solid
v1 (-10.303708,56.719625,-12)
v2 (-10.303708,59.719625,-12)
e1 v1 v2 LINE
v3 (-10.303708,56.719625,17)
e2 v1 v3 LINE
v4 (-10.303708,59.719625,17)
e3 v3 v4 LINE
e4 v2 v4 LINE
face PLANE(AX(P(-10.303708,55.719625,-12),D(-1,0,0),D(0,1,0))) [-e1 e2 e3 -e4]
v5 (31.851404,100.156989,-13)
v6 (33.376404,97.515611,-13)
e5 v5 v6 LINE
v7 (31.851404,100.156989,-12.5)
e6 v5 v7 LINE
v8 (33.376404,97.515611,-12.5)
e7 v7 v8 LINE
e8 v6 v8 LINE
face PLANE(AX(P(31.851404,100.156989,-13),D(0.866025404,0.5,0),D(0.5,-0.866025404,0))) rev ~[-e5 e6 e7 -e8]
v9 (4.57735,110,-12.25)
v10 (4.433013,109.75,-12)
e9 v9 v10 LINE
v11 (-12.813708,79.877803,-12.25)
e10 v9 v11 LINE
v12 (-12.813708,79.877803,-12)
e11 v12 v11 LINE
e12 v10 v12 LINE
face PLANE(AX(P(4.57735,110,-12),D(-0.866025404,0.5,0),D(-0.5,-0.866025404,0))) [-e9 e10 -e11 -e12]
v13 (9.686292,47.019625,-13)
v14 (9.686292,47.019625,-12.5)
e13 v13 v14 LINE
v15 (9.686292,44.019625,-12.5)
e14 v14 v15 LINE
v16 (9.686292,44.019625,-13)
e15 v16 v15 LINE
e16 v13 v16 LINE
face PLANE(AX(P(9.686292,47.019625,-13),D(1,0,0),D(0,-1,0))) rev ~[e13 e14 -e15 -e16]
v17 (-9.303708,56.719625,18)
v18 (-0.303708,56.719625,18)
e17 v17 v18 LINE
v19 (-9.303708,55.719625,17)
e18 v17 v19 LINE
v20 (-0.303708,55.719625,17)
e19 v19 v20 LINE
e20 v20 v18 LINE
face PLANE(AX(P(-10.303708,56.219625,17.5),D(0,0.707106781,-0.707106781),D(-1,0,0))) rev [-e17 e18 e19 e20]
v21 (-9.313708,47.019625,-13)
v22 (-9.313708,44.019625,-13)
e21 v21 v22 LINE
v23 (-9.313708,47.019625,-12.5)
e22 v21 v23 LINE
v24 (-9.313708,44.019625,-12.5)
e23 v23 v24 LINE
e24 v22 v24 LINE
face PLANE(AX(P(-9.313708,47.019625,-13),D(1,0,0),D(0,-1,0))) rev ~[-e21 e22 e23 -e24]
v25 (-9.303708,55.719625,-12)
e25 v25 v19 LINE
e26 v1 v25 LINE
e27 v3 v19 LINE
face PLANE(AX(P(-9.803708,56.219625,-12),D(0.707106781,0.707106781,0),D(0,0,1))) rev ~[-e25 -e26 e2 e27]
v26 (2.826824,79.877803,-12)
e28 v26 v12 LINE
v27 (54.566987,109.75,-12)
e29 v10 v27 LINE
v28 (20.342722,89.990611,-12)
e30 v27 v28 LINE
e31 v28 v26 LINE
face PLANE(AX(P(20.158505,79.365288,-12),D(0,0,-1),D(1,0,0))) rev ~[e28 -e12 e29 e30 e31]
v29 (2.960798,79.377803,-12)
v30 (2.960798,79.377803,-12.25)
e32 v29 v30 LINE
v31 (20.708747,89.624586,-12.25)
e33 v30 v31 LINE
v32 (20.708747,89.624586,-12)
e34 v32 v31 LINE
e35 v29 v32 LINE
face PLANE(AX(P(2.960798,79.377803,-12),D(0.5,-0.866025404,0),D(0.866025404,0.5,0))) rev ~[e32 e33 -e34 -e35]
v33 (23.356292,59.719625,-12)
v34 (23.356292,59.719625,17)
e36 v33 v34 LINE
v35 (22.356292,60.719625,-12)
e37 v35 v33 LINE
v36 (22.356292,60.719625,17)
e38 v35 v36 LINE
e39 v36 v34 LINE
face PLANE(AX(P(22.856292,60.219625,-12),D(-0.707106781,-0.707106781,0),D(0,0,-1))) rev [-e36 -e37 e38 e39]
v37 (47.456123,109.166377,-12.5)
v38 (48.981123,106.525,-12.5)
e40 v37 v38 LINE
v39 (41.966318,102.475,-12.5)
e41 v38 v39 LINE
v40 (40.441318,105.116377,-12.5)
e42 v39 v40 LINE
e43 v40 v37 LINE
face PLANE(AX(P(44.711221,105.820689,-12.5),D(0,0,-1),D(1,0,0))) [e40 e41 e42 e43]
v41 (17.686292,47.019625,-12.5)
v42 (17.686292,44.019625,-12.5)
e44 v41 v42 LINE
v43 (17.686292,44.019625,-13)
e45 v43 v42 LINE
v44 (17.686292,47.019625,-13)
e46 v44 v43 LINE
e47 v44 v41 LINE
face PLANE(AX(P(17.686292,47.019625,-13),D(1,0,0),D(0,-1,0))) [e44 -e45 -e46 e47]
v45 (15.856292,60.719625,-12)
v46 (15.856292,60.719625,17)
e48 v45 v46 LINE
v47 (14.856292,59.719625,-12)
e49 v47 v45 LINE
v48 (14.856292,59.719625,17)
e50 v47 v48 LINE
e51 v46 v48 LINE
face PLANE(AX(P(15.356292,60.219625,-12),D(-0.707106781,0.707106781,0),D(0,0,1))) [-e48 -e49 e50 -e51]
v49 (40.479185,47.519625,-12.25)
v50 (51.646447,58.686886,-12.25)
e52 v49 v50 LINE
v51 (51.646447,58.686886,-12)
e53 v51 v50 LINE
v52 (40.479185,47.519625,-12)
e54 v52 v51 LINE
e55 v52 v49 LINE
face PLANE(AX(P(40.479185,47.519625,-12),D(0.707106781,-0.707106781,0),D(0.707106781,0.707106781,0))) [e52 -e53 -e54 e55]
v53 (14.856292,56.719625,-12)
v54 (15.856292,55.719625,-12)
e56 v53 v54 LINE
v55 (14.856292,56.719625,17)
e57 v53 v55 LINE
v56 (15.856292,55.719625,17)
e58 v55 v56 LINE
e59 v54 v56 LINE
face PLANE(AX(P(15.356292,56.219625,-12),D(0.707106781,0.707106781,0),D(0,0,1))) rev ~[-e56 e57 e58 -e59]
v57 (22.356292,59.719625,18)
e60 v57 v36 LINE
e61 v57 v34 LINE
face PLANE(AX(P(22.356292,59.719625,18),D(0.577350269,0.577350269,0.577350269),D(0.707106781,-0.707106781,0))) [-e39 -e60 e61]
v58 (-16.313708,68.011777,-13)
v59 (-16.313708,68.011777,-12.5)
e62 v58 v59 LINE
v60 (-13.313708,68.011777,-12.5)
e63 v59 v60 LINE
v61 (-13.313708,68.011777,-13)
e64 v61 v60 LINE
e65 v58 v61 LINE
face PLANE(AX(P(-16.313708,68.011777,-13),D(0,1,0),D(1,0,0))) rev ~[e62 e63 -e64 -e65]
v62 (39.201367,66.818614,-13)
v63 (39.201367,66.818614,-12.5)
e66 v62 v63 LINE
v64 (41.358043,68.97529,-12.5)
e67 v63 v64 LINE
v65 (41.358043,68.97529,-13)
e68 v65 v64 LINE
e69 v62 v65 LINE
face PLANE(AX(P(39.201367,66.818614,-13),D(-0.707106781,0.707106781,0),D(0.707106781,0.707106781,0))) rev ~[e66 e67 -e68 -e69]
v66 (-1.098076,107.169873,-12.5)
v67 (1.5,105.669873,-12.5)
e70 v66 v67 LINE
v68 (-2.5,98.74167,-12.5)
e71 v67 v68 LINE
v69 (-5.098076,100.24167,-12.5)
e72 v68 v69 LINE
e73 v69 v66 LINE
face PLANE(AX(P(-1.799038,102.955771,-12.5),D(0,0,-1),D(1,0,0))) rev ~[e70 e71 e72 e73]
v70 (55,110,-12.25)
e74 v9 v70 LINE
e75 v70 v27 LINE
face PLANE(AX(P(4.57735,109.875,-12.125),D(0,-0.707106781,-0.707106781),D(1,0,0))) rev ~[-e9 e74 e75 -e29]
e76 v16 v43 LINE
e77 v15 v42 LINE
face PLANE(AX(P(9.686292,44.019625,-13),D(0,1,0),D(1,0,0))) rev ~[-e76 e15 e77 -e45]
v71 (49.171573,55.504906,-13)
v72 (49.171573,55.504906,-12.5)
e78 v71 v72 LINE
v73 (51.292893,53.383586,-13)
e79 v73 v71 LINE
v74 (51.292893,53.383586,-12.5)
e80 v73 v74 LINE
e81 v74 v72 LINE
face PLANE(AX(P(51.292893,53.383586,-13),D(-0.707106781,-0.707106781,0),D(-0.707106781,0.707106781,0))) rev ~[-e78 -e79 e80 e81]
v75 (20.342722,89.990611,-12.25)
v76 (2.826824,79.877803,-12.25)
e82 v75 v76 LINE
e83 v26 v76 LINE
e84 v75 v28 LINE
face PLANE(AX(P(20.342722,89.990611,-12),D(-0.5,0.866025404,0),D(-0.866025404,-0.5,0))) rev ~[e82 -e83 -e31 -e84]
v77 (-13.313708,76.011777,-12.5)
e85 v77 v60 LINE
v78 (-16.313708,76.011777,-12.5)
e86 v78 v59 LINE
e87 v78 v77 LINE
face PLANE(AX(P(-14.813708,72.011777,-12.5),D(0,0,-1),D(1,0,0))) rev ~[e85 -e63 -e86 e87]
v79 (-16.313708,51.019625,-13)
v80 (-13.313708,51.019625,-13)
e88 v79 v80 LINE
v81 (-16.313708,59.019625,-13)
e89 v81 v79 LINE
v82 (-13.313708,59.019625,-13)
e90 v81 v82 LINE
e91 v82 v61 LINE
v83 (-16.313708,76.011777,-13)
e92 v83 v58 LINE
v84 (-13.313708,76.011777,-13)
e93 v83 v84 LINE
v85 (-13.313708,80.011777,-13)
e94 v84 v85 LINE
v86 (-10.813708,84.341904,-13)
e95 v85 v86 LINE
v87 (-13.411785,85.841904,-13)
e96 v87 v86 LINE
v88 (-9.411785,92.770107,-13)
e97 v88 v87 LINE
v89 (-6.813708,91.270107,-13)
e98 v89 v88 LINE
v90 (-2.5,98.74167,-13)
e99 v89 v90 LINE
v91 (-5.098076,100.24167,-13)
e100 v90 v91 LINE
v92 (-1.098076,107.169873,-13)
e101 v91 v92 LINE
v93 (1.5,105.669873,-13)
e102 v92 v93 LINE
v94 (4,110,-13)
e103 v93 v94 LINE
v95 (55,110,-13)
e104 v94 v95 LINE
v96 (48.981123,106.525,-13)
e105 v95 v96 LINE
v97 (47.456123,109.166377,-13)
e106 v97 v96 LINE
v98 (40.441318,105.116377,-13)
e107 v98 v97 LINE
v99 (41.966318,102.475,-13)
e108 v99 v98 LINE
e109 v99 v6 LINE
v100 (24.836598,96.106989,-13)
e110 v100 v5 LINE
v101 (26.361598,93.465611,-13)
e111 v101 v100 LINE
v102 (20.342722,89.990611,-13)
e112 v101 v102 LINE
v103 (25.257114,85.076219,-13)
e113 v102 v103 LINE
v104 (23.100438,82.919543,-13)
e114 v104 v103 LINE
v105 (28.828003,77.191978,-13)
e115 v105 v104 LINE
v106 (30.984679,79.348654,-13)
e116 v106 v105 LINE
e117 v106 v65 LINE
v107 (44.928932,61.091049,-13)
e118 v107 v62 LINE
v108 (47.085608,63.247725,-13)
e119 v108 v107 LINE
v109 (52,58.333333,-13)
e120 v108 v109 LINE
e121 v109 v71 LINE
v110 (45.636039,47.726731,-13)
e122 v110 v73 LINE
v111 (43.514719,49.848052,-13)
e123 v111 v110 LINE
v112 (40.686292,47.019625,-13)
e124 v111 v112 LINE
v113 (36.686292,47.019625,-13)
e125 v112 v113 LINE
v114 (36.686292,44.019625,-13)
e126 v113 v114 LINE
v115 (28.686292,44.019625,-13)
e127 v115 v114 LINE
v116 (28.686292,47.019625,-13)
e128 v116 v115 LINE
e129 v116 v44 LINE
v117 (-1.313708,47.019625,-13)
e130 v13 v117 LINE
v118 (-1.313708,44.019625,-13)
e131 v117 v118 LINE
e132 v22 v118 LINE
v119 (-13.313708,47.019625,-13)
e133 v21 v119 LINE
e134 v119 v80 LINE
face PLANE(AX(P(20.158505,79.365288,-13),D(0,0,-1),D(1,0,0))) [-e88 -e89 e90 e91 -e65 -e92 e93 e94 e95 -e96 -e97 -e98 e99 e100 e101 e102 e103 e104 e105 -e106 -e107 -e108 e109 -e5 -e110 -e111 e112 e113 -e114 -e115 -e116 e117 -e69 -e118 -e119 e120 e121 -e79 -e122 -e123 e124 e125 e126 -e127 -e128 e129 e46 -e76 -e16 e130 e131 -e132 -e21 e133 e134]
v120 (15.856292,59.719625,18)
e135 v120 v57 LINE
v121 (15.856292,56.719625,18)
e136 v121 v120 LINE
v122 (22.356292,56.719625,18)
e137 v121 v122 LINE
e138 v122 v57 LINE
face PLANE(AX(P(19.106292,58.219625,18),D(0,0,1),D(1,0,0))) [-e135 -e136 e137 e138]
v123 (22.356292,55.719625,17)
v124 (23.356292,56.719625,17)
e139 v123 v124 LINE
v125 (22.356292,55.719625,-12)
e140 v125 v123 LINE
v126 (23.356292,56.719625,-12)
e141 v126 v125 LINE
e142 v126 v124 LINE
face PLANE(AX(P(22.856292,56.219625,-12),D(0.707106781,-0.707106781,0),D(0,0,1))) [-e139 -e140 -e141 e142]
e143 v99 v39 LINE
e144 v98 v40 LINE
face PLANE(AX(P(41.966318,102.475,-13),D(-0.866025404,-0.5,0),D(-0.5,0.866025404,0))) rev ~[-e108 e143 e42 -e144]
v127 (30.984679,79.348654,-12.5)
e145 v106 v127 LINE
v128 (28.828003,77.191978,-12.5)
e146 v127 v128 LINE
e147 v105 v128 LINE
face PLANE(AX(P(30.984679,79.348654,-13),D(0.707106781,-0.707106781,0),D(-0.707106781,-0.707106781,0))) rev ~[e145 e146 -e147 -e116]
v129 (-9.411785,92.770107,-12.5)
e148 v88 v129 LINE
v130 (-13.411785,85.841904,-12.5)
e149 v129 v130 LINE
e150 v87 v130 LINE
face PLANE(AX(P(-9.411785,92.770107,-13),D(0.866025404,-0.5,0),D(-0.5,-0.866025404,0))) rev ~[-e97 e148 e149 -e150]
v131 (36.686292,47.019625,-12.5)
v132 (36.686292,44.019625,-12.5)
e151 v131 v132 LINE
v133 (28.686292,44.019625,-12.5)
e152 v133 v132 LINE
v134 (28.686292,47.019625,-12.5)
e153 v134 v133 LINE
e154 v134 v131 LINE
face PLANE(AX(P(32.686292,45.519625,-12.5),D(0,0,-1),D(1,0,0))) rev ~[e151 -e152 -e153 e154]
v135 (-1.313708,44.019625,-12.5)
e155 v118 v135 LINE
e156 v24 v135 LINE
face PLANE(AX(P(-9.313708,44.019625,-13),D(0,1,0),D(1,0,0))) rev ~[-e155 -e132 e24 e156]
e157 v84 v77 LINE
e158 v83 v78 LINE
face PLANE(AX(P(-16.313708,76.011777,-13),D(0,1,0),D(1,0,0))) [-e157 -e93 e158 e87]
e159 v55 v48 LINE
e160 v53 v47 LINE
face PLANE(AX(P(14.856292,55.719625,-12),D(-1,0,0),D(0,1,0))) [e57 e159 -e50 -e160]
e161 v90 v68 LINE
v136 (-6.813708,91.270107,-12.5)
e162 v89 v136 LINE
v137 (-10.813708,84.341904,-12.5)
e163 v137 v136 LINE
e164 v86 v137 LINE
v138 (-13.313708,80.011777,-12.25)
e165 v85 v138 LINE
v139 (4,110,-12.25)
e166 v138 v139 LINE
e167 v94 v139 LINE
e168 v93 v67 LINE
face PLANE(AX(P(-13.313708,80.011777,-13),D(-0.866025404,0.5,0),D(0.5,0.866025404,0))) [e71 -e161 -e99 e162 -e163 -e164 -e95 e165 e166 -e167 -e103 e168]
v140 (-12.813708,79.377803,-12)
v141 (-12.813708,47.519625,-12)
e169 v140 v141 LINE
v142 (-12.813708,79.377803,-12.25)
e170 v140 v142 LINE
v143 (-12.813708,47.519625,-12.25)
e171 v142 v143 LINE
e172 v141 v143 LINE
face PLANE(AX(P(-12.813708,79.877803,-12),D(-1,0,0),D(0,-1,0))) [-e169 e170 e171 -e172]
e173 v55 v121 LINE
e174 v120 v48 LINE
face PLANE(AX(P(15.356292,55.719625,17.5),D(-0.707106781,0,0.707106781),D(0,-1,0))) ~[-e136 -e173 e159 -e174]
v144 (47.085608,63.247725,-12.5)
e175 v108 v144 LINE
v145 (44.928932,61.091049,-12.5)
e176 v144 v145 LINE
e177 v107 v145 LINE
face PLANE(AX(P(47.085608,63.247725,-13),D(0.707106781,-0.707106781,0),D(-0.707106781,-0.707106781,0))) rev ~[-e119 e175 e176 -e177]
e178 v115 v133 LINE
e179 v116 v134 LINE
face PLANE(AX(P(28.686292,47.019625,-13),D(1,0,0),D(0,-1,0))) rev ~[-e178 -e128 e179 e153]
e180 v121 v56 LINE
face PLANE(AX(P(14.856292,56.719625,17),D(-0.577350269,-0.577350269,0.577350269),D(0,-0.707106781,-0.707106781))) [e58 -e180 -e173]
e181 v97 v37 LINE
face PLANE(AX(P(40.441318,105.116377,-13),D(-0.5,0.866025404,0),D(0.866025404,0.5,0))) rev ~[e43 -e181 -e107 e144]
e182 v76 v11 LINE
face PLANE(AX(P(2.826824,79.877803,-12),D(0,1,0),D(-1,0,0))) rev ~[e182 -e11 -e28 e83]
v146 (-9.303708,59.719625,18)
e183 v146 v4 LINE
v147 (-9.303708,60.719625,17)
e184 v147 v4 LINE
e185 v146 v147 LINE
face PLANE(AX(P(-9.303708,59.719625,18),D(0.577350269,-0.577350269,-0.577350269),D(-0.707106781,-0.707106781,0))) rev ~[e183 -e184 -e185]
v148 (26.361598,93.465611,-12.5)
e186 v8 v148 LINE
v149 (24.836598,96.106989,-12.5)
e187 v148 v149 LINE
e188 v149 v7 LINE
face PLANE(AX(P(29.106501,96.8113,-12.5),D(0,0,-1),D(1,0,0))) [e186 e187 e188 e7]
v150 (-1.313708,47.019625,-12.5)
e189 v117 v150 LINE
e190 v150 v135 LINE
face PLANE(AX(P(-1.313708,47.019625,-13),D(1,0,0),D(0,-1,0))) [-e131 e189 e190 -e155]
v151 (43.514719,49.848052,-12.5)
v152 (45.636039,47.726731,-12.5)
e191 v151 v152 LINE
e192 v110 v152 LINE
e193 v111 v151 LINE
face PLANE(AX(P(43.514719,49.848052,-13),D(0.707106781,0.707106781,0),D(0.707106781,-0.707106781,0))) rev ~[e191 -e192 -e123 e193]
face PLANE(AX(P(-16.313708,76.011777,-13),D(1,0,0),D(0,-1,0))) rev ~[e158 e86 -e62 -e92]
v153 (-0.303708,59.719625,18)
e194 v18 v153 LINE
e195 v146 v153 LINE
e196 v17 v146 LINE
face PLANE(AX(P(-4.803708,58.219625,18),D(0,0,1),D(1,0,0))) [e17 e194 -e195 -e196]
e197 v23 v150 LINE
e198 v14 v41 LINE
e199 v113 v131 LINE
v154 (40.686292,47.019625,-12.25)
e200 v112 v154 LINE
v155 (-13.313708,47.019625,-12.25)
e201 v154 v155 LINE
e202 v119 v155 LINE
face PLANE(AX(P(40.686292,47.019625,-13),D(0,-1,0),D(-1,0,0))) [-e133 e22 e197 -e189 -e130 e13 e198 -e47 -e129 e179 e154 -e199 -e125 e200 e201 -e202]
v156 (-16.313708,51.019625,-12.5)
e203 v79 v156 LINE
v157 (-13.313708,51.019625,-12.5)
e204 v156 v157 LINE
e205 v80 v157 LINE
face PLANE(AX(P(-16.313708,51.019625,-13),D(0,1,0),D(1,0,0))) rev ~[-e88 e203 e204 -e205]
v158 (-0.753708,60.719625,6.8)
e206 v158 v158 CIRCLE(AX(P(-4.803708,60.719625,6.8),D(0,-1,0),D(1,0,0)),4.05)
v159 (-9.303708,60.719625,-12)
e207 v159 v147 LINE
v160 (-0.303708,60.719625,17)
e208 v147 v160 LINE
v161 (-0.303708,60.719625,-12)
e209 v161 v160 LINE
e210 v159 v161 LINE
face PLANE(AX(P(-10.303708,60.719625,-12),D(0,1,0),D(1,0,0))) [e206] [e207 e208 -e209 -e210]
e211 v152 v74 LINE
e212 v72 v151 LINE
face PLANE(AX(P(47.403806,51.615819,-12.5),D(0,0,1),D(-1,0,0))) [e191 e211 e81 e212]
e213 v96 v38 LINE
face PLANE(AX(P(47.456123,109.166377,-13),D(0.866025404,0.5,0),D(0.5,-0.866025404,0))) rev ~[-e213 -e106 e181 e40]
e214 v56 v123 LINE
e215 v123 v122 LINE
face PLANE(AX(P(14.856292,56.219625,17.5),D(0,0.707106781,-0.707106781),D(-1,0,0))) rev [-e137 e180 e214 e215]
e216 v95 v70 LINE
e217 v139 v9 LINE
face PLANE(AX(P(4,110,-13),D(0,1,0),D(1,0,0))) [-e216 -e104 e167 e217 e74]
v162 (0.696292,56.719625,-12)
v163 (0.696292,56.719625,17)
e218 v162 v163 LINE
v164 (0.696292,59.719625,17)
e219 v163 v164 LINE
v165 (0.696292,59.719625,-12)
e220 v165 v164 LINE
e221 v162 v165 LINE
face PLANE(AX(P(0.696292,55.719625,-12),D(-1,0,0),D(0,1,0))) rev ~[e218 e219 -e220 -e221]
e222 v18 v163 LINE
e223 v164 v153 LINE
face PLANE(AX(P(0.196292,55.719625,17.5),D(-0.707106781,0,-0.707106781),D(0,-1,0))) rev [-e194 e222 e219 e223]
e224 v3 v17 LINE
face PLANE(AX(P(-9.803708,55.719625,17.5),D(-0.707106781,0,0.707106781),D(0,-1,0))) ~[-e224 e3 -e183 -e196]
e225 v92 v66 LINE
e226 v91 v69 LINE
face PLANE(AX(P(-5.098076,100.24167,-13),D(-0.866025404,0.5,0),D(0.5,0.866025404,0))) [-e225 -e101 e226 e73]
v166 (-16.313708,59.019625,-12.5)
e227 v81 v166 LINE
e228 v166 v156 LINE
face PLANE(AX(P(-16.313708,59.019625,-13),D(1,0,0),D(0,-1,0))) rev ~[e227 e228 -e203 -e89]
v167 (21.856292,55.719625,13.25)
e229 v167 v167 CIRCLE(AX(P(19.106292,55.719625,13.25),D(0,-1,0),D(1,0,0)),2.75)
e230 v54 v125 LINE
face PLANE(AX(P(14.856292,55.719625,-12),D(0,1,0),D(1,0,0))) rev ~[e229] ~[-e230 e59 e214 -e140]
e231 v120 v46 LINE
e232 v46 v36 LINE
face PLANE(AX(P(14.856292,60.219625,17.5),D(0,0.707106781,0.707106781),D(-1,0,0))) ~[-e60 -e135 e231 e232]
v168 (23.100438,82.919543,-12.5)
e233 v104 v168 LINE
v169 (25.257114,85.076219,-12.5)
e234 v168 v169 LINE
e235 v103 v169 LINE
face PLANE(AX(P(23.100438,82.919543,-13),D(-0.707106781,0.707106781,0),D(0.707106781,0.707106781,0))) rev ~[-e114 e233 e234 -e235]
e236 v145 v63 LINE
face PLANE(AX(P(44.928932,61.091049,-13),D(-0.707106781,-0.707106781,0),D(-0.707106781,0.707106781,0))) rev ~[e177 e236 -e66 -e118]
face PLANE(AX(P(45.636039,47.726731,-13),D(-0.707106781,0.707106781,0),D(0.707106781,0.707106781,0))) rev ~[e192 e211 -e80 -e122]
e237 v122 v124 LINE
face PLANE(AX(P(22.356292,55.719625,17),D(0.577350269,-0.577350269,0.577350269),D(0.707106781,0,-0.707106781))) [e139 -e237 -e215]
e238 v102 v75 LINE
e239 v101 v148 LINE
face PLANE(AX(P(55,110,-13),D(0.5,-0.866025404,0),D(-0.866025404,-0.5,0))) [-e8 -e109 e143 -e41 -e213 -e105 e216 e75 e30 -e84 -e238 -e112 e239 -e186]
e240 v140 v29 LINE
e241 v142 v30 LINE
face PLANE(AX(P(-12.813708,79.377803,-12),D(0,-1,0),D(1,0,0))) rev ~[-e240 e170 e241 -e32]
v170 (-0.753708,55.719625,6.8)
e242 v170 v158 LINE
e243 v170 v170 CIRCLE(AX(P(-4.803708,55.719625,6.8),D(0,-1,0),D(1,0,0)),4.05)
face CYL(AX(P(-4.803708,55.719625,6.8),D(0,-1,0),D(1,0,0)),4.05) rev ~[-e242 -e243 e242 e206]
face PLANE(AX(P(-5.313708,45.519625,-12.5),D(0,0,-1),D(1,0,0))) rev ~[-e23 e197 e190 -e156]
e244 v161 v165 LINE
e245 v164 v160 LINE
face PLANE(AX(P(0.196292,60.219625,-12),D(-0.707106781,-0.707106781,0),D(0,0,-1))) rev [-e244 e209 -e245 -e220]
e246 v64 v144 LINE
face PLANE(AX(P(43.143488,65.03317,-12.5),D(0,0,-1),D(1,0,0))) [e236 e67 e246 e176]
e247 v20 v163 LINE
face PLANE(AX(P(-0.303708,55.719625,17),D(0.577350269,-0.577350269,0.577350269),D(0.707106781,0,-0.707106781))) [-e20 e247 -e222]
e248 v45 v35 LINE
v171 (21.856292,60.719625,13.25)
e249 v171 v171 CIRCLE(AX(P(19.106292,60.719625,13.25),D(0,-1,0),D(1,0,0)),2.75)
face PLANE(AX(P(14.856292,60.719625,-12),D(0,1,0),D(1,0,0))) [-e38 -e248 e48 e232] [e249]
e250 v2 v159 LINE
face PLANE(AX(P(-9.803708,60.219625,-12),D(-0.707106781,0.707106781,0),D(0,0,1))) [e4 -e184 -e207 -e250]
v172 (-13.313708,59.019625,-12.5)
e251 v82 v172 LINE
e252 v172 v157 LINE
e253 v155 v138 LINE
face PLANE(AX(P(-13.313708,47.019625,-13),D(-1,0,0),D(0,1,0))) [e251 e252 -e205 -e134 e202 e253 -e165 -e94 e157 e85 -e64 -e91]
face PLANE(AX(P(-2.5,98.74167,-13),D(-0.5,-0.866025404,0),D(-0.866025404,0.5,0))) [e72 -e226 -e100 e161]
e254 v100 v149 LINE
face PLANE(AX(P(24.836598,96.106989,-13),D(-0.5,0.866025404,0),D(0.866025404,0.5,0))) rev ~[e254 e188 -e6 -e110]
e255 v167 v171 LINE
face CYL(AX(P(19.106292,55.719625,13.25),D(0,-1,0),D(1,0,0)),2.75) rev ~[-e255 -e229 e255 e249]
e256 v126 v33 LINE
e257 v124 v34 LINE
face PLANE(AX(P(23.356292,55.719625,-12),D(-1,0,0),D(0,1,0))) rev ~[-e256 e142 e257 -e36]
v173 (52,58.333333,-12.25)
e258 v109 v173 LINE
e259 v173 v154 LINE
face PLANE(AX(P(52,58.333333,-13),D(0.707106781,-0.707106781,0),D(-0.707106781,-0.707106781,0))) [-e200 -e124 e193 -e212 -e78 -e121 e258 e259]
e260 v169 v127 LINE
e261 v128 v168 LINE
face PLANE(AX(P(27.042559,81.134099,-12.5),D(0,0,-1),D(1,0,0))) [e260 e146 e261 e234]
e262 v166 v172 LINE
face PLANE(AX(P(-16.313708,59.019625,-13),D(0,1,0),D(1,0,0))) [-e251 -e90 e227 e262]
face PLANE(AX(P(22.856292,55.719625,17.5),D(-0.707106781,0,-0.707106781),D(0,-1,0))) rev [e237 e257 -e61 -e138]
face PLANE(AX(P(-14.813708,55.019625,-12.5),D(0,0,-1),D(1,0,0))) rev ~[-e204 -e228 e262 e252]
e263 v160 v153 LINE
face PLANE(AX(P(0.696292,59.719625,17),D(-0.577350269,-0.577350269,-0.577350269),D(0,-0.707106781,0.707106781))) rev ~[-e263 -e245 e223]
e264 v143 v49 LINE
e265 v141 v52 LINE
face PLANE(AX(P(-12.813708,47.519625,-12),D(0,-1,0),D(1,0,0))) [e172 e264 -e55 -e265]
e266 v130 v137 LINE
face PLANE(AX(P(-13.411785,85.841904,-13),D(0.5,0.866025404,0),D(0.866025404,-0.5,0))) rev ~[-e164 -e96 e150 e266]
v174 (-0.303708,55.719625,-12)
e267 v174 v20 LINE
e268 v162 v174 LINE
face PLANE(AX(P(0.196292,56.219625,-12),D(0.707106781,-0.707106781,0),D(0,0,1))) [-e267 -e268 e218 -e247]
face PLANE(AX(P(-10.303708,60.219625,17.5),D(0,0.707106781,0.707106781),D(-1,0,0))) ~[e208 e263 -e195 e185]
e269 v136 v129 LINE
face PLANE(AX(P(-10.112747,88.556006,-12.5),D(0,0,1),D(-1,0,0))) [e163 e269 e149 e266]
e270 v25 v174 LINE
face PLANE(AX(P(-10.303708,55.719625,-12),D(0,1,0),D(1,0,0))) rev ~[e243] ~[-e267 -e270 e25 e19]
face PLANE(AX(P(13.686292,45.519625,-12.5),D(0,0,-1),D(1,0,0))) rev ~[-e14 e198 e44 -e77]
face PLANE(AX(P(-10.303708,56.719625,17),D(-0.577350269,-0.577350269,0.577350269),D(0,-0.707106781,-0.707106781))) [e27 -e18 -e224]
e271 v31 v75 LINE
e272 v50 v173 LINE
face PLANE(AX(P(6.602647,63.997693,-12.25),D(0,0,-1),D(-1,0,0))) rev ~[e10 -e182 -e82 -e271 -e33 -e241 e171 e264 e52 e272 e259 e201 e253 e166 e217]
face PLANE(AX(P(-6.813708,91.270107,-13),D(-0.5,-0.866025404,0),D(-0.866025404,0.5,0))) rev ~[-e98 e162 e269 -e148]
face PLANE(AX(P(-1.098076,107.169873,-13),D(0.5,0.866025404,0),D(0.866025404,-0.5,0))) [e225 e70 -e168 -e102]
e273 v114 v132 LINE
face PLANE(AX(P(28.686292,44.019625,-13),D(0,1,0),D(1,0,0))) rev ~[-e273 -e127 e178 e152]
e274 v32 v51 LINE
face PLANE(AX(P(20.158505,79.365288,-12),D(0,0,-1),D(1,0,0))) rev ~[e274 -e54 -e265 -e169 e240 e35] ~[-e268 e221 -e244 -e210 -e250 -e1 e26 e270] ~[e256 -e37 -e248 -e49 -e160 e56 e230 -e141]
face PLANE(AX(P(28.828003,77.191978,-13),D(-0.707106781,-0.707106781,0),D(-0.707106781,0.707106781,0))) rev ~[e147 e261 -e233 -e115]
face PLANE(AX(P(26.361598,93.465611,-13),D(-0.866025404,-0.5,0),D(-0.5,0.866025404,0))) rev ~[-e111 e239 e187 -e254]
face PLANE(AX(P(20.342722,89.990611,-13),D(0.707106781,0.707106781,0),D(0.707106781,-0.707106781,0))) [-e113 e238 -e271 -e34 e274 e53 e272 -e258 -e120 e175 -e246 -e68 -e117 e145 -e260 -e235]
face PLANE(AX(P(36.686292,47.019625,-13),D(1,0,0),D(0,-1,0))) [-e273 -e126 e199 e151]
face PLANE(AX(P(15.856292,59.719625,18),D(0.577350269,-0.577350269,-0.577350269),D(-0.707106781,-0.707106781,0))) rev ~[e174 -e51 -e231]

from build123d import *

# Parameters (mm, degrees)
PAD002_DEPTH    = 1
POCKET002_DEPTH = 0.5
POCKET003_DEPTH = 0.25
POCKET004_DEPTH = 0.25
SKETCH009_W     = 8.5
SKETCH009_H     = 5
SKETCH009_W_2   = 11
PAD003_DEPTH    = 30
SKETCH010_R     = 4.05
SKETCH010_R_2   = 2.75
POCKET005_DEPTH = 54.281375499
SKETCH011_W     = 8
SKETCH011_H     = 3
SKETCH011_W_2   = 3
SKETCH011_H_2   = 8
PAD004_DEPTH    = 0.5
CHAMFER001_SIZE = 0.25
CHAMFER002_SIZE = 1


with BuildPart() as part:
    # Sketch005 (on Face1 of Binder) → Pad002 (new body)
    with BuildSketch(Plane(origin=(0, 0, -13), x_dir=(1, 0, 0), z_dir=(0, 0, -1))):
        Polygon((52, -58.333333), (40.686291501, -47.019624501), (-13.313708499, -47.019624501), (-13.313708499, -80.0117772123), (4, -110), (55, -110), (20.3427218622, -89.9906111378), align=None)
    extrude(amount=-PAD002_DEPTH)

    # Sketch006 (on Face8 of Pad002) → Pocket002 (cut)
    with BuildSketch(Plane(origin=(0, 0, -13), x_dir=(1, 0, 0), z_dir=(0, 0, -1))):
        Polygon((47.0856078708, -63.2477251292), (44.9289321881, -61.0910494466), (39.2013672605, -66.8186143742), (41.3580429431, -68.9752900569), align=None)
        Polygon((30.9846789191, -79.3486540809), (28.8280032365, -77.1919783983), (23.1004383089, -82.9195433259), (25.2571139915, -85.0762190085), align=None)
        Polygon((26.3615984185, -93.4656111378), (24.8365984185, -96.1069886193), (31.8514041892, -100.1569886193), (33.3764041892, -97.5156111378), align=None)
        Polygon((48.9811234437, -106.525), (41.966317673, -102.475), (40.441317673, -105.1163774815), (47.4561234437, -109.1663774815), align=None)
    extrude(amount=-POCKET002_DEPTH, mode=Mode.SUBTRACT)

    # Sketch007 (on Face5 of Pocket002) → Pocket003 (cut)
    with BuildSketch(Plane.XY.offset(-12)):
        Polygon((52, 58.333333), (40.686291501, 47.019624501), (-13.313708499, 47.019624501), (-13.313708499, 80.0117772123), (4, 110), (4.5773502692, 110), (-12.813708499, 79.8778026161), (-12.813708499, 47.519624501), (40.4791847198, 47.519624501), (51.6464466094, 58.6868863906), align=None)
    extrude(amount=-POCKET003_DEPTH, mode=Mode.SUBTRACT)

    # Sketch008 (on Face28 of Pocket003) → Pocket004 (cut)
    with BuildSketch(Plane.XY.offset(-12)):
        Polygon((20.3427218622, 89.9906111378), (2.8268236955, 79.8778026161), (-12.813708499, 79.8778026161), (-12.813708499, 79.3778026161), (2.9607982917, 79.3778026161), (20.708747266, 89.624585734), align=None)
    extrude(amount=-POCKET004_DEPTH, mode=Mode.SUBTRACT)

    # Sketch009 (on Face27 of Pocket004) → Pad003 (join)
    with BuildSketch(Plane.XY.offset(-12)):
        with Locations((19.106291501, 58.219624501)):
            Rectangle(SKETCH009_W, SKETCH009_H)
        with Locations((-4.803708499, 58.219624501)):
            Rectangle(SKETCH009_W_2, SKETCH009_H)
    extrude(amount=PAD003_DEPTH)

    # Sketch010 (on Face11 of Pad003) → Pocket005 (cut, through all)
    with BuildSketch(Plane.XZ.offset(-55.719624501)):
        with Locations((-4.803708499, 6.8)):
            Circle(SKETCH010_R)
        with Locations((19.106291501, 13.25)):
            Circle(SKETCH010_R_2)
    extrude(amount=-POCKET005_DEPTH, mode=Mode.SUBTRACT)

    # Sketch011 (on Face25 of Pocket005) → Pad004 (join)
    with BuildSketch(Plane(origin=(0, 0, -13), x_dir=(1, 0, 0), z_dir=(0, 0, -1))):
        with Locations((-5.313708499, -45.519624501)):
            Rectangle(SKETCH011_W, SKETCH011_H)
        with Locations((13.686291501, -45.519624501)):
            Rectangle(SKETCH011_W, SKETCH011_H)
        with Locations((32.686291501, -45.519624501)):
            Rectangle(SKETCH011_W, SKETCH011_H)
        with Locations((-14.813708499, -55.019624501)):
            Rectangle(SKETCH011_W_2, SKETCH011_H_2)
        with Locations((-14.813708499, -72.0117772123)):
            Rectangle(SKETCH011_W_2, SKETCH011_H_2)
        Polygon((-10.813708499, -84.3419042312), (-6.813708499, -91.2701074615), (-9.4117847103, -92.7701074615), (-13.4117847103, -85.8419042312), align=None)
        Polygon((-2.5, -98.7416697508), (-5.0980762114, -100.2416697508), (-1.0980762114, -107.1698729811), (1.5, -105.6698729811), align=None)
        Polygon((49.1715728753, -55.5049058753), (43.5147186258, -49.8480516258), (45.6360389693, -47.7267312822), (51.2928932188, -53.3835855317), align=None)
    extrude(amount=-PAD004_DEPTH)

    # Chamfer001
    chamfer001_edges = [part.edges().sort_by_distance(p)[0] for p in [
        (29.788675, 110, -12),
    ]]
    chamfer(chamfer001_edges, length=CHAMFER001_SIZE)

    # Chamfer002
    chamfer002_edges = [part.edges().sort_by_distance(p)[0] for p in [
        (-10.303708, 60.719625, 3),
        (-4.803708, 60.719625, 18),
        (0.696292, 60.719625, 3),
        (0.696292, 58.219625, 18),
        (-4.803708, 55.719625, 18),
        (-10.303708, 58.219625, 18),
        (14.856292, 60.719625, 3),
        (23.356292, 60.719625, 3),
        (19.106292, 60.719625, 18),
        (23.356292, 58.219625, 18),
        (19.106292, 55.719625, 18),
        (14.856292, 58.219625, 18),
        (-10.303708, 55.719625, 3),
        (0.696292, 55.719625, 3),
        (14.856292, 55.719625, 3),
        (23.356292, 55.719625, 3),
    ]]
    chamfer(chamfer002_edges, length=CHAMFER002_SIZE)


solid = part.part
